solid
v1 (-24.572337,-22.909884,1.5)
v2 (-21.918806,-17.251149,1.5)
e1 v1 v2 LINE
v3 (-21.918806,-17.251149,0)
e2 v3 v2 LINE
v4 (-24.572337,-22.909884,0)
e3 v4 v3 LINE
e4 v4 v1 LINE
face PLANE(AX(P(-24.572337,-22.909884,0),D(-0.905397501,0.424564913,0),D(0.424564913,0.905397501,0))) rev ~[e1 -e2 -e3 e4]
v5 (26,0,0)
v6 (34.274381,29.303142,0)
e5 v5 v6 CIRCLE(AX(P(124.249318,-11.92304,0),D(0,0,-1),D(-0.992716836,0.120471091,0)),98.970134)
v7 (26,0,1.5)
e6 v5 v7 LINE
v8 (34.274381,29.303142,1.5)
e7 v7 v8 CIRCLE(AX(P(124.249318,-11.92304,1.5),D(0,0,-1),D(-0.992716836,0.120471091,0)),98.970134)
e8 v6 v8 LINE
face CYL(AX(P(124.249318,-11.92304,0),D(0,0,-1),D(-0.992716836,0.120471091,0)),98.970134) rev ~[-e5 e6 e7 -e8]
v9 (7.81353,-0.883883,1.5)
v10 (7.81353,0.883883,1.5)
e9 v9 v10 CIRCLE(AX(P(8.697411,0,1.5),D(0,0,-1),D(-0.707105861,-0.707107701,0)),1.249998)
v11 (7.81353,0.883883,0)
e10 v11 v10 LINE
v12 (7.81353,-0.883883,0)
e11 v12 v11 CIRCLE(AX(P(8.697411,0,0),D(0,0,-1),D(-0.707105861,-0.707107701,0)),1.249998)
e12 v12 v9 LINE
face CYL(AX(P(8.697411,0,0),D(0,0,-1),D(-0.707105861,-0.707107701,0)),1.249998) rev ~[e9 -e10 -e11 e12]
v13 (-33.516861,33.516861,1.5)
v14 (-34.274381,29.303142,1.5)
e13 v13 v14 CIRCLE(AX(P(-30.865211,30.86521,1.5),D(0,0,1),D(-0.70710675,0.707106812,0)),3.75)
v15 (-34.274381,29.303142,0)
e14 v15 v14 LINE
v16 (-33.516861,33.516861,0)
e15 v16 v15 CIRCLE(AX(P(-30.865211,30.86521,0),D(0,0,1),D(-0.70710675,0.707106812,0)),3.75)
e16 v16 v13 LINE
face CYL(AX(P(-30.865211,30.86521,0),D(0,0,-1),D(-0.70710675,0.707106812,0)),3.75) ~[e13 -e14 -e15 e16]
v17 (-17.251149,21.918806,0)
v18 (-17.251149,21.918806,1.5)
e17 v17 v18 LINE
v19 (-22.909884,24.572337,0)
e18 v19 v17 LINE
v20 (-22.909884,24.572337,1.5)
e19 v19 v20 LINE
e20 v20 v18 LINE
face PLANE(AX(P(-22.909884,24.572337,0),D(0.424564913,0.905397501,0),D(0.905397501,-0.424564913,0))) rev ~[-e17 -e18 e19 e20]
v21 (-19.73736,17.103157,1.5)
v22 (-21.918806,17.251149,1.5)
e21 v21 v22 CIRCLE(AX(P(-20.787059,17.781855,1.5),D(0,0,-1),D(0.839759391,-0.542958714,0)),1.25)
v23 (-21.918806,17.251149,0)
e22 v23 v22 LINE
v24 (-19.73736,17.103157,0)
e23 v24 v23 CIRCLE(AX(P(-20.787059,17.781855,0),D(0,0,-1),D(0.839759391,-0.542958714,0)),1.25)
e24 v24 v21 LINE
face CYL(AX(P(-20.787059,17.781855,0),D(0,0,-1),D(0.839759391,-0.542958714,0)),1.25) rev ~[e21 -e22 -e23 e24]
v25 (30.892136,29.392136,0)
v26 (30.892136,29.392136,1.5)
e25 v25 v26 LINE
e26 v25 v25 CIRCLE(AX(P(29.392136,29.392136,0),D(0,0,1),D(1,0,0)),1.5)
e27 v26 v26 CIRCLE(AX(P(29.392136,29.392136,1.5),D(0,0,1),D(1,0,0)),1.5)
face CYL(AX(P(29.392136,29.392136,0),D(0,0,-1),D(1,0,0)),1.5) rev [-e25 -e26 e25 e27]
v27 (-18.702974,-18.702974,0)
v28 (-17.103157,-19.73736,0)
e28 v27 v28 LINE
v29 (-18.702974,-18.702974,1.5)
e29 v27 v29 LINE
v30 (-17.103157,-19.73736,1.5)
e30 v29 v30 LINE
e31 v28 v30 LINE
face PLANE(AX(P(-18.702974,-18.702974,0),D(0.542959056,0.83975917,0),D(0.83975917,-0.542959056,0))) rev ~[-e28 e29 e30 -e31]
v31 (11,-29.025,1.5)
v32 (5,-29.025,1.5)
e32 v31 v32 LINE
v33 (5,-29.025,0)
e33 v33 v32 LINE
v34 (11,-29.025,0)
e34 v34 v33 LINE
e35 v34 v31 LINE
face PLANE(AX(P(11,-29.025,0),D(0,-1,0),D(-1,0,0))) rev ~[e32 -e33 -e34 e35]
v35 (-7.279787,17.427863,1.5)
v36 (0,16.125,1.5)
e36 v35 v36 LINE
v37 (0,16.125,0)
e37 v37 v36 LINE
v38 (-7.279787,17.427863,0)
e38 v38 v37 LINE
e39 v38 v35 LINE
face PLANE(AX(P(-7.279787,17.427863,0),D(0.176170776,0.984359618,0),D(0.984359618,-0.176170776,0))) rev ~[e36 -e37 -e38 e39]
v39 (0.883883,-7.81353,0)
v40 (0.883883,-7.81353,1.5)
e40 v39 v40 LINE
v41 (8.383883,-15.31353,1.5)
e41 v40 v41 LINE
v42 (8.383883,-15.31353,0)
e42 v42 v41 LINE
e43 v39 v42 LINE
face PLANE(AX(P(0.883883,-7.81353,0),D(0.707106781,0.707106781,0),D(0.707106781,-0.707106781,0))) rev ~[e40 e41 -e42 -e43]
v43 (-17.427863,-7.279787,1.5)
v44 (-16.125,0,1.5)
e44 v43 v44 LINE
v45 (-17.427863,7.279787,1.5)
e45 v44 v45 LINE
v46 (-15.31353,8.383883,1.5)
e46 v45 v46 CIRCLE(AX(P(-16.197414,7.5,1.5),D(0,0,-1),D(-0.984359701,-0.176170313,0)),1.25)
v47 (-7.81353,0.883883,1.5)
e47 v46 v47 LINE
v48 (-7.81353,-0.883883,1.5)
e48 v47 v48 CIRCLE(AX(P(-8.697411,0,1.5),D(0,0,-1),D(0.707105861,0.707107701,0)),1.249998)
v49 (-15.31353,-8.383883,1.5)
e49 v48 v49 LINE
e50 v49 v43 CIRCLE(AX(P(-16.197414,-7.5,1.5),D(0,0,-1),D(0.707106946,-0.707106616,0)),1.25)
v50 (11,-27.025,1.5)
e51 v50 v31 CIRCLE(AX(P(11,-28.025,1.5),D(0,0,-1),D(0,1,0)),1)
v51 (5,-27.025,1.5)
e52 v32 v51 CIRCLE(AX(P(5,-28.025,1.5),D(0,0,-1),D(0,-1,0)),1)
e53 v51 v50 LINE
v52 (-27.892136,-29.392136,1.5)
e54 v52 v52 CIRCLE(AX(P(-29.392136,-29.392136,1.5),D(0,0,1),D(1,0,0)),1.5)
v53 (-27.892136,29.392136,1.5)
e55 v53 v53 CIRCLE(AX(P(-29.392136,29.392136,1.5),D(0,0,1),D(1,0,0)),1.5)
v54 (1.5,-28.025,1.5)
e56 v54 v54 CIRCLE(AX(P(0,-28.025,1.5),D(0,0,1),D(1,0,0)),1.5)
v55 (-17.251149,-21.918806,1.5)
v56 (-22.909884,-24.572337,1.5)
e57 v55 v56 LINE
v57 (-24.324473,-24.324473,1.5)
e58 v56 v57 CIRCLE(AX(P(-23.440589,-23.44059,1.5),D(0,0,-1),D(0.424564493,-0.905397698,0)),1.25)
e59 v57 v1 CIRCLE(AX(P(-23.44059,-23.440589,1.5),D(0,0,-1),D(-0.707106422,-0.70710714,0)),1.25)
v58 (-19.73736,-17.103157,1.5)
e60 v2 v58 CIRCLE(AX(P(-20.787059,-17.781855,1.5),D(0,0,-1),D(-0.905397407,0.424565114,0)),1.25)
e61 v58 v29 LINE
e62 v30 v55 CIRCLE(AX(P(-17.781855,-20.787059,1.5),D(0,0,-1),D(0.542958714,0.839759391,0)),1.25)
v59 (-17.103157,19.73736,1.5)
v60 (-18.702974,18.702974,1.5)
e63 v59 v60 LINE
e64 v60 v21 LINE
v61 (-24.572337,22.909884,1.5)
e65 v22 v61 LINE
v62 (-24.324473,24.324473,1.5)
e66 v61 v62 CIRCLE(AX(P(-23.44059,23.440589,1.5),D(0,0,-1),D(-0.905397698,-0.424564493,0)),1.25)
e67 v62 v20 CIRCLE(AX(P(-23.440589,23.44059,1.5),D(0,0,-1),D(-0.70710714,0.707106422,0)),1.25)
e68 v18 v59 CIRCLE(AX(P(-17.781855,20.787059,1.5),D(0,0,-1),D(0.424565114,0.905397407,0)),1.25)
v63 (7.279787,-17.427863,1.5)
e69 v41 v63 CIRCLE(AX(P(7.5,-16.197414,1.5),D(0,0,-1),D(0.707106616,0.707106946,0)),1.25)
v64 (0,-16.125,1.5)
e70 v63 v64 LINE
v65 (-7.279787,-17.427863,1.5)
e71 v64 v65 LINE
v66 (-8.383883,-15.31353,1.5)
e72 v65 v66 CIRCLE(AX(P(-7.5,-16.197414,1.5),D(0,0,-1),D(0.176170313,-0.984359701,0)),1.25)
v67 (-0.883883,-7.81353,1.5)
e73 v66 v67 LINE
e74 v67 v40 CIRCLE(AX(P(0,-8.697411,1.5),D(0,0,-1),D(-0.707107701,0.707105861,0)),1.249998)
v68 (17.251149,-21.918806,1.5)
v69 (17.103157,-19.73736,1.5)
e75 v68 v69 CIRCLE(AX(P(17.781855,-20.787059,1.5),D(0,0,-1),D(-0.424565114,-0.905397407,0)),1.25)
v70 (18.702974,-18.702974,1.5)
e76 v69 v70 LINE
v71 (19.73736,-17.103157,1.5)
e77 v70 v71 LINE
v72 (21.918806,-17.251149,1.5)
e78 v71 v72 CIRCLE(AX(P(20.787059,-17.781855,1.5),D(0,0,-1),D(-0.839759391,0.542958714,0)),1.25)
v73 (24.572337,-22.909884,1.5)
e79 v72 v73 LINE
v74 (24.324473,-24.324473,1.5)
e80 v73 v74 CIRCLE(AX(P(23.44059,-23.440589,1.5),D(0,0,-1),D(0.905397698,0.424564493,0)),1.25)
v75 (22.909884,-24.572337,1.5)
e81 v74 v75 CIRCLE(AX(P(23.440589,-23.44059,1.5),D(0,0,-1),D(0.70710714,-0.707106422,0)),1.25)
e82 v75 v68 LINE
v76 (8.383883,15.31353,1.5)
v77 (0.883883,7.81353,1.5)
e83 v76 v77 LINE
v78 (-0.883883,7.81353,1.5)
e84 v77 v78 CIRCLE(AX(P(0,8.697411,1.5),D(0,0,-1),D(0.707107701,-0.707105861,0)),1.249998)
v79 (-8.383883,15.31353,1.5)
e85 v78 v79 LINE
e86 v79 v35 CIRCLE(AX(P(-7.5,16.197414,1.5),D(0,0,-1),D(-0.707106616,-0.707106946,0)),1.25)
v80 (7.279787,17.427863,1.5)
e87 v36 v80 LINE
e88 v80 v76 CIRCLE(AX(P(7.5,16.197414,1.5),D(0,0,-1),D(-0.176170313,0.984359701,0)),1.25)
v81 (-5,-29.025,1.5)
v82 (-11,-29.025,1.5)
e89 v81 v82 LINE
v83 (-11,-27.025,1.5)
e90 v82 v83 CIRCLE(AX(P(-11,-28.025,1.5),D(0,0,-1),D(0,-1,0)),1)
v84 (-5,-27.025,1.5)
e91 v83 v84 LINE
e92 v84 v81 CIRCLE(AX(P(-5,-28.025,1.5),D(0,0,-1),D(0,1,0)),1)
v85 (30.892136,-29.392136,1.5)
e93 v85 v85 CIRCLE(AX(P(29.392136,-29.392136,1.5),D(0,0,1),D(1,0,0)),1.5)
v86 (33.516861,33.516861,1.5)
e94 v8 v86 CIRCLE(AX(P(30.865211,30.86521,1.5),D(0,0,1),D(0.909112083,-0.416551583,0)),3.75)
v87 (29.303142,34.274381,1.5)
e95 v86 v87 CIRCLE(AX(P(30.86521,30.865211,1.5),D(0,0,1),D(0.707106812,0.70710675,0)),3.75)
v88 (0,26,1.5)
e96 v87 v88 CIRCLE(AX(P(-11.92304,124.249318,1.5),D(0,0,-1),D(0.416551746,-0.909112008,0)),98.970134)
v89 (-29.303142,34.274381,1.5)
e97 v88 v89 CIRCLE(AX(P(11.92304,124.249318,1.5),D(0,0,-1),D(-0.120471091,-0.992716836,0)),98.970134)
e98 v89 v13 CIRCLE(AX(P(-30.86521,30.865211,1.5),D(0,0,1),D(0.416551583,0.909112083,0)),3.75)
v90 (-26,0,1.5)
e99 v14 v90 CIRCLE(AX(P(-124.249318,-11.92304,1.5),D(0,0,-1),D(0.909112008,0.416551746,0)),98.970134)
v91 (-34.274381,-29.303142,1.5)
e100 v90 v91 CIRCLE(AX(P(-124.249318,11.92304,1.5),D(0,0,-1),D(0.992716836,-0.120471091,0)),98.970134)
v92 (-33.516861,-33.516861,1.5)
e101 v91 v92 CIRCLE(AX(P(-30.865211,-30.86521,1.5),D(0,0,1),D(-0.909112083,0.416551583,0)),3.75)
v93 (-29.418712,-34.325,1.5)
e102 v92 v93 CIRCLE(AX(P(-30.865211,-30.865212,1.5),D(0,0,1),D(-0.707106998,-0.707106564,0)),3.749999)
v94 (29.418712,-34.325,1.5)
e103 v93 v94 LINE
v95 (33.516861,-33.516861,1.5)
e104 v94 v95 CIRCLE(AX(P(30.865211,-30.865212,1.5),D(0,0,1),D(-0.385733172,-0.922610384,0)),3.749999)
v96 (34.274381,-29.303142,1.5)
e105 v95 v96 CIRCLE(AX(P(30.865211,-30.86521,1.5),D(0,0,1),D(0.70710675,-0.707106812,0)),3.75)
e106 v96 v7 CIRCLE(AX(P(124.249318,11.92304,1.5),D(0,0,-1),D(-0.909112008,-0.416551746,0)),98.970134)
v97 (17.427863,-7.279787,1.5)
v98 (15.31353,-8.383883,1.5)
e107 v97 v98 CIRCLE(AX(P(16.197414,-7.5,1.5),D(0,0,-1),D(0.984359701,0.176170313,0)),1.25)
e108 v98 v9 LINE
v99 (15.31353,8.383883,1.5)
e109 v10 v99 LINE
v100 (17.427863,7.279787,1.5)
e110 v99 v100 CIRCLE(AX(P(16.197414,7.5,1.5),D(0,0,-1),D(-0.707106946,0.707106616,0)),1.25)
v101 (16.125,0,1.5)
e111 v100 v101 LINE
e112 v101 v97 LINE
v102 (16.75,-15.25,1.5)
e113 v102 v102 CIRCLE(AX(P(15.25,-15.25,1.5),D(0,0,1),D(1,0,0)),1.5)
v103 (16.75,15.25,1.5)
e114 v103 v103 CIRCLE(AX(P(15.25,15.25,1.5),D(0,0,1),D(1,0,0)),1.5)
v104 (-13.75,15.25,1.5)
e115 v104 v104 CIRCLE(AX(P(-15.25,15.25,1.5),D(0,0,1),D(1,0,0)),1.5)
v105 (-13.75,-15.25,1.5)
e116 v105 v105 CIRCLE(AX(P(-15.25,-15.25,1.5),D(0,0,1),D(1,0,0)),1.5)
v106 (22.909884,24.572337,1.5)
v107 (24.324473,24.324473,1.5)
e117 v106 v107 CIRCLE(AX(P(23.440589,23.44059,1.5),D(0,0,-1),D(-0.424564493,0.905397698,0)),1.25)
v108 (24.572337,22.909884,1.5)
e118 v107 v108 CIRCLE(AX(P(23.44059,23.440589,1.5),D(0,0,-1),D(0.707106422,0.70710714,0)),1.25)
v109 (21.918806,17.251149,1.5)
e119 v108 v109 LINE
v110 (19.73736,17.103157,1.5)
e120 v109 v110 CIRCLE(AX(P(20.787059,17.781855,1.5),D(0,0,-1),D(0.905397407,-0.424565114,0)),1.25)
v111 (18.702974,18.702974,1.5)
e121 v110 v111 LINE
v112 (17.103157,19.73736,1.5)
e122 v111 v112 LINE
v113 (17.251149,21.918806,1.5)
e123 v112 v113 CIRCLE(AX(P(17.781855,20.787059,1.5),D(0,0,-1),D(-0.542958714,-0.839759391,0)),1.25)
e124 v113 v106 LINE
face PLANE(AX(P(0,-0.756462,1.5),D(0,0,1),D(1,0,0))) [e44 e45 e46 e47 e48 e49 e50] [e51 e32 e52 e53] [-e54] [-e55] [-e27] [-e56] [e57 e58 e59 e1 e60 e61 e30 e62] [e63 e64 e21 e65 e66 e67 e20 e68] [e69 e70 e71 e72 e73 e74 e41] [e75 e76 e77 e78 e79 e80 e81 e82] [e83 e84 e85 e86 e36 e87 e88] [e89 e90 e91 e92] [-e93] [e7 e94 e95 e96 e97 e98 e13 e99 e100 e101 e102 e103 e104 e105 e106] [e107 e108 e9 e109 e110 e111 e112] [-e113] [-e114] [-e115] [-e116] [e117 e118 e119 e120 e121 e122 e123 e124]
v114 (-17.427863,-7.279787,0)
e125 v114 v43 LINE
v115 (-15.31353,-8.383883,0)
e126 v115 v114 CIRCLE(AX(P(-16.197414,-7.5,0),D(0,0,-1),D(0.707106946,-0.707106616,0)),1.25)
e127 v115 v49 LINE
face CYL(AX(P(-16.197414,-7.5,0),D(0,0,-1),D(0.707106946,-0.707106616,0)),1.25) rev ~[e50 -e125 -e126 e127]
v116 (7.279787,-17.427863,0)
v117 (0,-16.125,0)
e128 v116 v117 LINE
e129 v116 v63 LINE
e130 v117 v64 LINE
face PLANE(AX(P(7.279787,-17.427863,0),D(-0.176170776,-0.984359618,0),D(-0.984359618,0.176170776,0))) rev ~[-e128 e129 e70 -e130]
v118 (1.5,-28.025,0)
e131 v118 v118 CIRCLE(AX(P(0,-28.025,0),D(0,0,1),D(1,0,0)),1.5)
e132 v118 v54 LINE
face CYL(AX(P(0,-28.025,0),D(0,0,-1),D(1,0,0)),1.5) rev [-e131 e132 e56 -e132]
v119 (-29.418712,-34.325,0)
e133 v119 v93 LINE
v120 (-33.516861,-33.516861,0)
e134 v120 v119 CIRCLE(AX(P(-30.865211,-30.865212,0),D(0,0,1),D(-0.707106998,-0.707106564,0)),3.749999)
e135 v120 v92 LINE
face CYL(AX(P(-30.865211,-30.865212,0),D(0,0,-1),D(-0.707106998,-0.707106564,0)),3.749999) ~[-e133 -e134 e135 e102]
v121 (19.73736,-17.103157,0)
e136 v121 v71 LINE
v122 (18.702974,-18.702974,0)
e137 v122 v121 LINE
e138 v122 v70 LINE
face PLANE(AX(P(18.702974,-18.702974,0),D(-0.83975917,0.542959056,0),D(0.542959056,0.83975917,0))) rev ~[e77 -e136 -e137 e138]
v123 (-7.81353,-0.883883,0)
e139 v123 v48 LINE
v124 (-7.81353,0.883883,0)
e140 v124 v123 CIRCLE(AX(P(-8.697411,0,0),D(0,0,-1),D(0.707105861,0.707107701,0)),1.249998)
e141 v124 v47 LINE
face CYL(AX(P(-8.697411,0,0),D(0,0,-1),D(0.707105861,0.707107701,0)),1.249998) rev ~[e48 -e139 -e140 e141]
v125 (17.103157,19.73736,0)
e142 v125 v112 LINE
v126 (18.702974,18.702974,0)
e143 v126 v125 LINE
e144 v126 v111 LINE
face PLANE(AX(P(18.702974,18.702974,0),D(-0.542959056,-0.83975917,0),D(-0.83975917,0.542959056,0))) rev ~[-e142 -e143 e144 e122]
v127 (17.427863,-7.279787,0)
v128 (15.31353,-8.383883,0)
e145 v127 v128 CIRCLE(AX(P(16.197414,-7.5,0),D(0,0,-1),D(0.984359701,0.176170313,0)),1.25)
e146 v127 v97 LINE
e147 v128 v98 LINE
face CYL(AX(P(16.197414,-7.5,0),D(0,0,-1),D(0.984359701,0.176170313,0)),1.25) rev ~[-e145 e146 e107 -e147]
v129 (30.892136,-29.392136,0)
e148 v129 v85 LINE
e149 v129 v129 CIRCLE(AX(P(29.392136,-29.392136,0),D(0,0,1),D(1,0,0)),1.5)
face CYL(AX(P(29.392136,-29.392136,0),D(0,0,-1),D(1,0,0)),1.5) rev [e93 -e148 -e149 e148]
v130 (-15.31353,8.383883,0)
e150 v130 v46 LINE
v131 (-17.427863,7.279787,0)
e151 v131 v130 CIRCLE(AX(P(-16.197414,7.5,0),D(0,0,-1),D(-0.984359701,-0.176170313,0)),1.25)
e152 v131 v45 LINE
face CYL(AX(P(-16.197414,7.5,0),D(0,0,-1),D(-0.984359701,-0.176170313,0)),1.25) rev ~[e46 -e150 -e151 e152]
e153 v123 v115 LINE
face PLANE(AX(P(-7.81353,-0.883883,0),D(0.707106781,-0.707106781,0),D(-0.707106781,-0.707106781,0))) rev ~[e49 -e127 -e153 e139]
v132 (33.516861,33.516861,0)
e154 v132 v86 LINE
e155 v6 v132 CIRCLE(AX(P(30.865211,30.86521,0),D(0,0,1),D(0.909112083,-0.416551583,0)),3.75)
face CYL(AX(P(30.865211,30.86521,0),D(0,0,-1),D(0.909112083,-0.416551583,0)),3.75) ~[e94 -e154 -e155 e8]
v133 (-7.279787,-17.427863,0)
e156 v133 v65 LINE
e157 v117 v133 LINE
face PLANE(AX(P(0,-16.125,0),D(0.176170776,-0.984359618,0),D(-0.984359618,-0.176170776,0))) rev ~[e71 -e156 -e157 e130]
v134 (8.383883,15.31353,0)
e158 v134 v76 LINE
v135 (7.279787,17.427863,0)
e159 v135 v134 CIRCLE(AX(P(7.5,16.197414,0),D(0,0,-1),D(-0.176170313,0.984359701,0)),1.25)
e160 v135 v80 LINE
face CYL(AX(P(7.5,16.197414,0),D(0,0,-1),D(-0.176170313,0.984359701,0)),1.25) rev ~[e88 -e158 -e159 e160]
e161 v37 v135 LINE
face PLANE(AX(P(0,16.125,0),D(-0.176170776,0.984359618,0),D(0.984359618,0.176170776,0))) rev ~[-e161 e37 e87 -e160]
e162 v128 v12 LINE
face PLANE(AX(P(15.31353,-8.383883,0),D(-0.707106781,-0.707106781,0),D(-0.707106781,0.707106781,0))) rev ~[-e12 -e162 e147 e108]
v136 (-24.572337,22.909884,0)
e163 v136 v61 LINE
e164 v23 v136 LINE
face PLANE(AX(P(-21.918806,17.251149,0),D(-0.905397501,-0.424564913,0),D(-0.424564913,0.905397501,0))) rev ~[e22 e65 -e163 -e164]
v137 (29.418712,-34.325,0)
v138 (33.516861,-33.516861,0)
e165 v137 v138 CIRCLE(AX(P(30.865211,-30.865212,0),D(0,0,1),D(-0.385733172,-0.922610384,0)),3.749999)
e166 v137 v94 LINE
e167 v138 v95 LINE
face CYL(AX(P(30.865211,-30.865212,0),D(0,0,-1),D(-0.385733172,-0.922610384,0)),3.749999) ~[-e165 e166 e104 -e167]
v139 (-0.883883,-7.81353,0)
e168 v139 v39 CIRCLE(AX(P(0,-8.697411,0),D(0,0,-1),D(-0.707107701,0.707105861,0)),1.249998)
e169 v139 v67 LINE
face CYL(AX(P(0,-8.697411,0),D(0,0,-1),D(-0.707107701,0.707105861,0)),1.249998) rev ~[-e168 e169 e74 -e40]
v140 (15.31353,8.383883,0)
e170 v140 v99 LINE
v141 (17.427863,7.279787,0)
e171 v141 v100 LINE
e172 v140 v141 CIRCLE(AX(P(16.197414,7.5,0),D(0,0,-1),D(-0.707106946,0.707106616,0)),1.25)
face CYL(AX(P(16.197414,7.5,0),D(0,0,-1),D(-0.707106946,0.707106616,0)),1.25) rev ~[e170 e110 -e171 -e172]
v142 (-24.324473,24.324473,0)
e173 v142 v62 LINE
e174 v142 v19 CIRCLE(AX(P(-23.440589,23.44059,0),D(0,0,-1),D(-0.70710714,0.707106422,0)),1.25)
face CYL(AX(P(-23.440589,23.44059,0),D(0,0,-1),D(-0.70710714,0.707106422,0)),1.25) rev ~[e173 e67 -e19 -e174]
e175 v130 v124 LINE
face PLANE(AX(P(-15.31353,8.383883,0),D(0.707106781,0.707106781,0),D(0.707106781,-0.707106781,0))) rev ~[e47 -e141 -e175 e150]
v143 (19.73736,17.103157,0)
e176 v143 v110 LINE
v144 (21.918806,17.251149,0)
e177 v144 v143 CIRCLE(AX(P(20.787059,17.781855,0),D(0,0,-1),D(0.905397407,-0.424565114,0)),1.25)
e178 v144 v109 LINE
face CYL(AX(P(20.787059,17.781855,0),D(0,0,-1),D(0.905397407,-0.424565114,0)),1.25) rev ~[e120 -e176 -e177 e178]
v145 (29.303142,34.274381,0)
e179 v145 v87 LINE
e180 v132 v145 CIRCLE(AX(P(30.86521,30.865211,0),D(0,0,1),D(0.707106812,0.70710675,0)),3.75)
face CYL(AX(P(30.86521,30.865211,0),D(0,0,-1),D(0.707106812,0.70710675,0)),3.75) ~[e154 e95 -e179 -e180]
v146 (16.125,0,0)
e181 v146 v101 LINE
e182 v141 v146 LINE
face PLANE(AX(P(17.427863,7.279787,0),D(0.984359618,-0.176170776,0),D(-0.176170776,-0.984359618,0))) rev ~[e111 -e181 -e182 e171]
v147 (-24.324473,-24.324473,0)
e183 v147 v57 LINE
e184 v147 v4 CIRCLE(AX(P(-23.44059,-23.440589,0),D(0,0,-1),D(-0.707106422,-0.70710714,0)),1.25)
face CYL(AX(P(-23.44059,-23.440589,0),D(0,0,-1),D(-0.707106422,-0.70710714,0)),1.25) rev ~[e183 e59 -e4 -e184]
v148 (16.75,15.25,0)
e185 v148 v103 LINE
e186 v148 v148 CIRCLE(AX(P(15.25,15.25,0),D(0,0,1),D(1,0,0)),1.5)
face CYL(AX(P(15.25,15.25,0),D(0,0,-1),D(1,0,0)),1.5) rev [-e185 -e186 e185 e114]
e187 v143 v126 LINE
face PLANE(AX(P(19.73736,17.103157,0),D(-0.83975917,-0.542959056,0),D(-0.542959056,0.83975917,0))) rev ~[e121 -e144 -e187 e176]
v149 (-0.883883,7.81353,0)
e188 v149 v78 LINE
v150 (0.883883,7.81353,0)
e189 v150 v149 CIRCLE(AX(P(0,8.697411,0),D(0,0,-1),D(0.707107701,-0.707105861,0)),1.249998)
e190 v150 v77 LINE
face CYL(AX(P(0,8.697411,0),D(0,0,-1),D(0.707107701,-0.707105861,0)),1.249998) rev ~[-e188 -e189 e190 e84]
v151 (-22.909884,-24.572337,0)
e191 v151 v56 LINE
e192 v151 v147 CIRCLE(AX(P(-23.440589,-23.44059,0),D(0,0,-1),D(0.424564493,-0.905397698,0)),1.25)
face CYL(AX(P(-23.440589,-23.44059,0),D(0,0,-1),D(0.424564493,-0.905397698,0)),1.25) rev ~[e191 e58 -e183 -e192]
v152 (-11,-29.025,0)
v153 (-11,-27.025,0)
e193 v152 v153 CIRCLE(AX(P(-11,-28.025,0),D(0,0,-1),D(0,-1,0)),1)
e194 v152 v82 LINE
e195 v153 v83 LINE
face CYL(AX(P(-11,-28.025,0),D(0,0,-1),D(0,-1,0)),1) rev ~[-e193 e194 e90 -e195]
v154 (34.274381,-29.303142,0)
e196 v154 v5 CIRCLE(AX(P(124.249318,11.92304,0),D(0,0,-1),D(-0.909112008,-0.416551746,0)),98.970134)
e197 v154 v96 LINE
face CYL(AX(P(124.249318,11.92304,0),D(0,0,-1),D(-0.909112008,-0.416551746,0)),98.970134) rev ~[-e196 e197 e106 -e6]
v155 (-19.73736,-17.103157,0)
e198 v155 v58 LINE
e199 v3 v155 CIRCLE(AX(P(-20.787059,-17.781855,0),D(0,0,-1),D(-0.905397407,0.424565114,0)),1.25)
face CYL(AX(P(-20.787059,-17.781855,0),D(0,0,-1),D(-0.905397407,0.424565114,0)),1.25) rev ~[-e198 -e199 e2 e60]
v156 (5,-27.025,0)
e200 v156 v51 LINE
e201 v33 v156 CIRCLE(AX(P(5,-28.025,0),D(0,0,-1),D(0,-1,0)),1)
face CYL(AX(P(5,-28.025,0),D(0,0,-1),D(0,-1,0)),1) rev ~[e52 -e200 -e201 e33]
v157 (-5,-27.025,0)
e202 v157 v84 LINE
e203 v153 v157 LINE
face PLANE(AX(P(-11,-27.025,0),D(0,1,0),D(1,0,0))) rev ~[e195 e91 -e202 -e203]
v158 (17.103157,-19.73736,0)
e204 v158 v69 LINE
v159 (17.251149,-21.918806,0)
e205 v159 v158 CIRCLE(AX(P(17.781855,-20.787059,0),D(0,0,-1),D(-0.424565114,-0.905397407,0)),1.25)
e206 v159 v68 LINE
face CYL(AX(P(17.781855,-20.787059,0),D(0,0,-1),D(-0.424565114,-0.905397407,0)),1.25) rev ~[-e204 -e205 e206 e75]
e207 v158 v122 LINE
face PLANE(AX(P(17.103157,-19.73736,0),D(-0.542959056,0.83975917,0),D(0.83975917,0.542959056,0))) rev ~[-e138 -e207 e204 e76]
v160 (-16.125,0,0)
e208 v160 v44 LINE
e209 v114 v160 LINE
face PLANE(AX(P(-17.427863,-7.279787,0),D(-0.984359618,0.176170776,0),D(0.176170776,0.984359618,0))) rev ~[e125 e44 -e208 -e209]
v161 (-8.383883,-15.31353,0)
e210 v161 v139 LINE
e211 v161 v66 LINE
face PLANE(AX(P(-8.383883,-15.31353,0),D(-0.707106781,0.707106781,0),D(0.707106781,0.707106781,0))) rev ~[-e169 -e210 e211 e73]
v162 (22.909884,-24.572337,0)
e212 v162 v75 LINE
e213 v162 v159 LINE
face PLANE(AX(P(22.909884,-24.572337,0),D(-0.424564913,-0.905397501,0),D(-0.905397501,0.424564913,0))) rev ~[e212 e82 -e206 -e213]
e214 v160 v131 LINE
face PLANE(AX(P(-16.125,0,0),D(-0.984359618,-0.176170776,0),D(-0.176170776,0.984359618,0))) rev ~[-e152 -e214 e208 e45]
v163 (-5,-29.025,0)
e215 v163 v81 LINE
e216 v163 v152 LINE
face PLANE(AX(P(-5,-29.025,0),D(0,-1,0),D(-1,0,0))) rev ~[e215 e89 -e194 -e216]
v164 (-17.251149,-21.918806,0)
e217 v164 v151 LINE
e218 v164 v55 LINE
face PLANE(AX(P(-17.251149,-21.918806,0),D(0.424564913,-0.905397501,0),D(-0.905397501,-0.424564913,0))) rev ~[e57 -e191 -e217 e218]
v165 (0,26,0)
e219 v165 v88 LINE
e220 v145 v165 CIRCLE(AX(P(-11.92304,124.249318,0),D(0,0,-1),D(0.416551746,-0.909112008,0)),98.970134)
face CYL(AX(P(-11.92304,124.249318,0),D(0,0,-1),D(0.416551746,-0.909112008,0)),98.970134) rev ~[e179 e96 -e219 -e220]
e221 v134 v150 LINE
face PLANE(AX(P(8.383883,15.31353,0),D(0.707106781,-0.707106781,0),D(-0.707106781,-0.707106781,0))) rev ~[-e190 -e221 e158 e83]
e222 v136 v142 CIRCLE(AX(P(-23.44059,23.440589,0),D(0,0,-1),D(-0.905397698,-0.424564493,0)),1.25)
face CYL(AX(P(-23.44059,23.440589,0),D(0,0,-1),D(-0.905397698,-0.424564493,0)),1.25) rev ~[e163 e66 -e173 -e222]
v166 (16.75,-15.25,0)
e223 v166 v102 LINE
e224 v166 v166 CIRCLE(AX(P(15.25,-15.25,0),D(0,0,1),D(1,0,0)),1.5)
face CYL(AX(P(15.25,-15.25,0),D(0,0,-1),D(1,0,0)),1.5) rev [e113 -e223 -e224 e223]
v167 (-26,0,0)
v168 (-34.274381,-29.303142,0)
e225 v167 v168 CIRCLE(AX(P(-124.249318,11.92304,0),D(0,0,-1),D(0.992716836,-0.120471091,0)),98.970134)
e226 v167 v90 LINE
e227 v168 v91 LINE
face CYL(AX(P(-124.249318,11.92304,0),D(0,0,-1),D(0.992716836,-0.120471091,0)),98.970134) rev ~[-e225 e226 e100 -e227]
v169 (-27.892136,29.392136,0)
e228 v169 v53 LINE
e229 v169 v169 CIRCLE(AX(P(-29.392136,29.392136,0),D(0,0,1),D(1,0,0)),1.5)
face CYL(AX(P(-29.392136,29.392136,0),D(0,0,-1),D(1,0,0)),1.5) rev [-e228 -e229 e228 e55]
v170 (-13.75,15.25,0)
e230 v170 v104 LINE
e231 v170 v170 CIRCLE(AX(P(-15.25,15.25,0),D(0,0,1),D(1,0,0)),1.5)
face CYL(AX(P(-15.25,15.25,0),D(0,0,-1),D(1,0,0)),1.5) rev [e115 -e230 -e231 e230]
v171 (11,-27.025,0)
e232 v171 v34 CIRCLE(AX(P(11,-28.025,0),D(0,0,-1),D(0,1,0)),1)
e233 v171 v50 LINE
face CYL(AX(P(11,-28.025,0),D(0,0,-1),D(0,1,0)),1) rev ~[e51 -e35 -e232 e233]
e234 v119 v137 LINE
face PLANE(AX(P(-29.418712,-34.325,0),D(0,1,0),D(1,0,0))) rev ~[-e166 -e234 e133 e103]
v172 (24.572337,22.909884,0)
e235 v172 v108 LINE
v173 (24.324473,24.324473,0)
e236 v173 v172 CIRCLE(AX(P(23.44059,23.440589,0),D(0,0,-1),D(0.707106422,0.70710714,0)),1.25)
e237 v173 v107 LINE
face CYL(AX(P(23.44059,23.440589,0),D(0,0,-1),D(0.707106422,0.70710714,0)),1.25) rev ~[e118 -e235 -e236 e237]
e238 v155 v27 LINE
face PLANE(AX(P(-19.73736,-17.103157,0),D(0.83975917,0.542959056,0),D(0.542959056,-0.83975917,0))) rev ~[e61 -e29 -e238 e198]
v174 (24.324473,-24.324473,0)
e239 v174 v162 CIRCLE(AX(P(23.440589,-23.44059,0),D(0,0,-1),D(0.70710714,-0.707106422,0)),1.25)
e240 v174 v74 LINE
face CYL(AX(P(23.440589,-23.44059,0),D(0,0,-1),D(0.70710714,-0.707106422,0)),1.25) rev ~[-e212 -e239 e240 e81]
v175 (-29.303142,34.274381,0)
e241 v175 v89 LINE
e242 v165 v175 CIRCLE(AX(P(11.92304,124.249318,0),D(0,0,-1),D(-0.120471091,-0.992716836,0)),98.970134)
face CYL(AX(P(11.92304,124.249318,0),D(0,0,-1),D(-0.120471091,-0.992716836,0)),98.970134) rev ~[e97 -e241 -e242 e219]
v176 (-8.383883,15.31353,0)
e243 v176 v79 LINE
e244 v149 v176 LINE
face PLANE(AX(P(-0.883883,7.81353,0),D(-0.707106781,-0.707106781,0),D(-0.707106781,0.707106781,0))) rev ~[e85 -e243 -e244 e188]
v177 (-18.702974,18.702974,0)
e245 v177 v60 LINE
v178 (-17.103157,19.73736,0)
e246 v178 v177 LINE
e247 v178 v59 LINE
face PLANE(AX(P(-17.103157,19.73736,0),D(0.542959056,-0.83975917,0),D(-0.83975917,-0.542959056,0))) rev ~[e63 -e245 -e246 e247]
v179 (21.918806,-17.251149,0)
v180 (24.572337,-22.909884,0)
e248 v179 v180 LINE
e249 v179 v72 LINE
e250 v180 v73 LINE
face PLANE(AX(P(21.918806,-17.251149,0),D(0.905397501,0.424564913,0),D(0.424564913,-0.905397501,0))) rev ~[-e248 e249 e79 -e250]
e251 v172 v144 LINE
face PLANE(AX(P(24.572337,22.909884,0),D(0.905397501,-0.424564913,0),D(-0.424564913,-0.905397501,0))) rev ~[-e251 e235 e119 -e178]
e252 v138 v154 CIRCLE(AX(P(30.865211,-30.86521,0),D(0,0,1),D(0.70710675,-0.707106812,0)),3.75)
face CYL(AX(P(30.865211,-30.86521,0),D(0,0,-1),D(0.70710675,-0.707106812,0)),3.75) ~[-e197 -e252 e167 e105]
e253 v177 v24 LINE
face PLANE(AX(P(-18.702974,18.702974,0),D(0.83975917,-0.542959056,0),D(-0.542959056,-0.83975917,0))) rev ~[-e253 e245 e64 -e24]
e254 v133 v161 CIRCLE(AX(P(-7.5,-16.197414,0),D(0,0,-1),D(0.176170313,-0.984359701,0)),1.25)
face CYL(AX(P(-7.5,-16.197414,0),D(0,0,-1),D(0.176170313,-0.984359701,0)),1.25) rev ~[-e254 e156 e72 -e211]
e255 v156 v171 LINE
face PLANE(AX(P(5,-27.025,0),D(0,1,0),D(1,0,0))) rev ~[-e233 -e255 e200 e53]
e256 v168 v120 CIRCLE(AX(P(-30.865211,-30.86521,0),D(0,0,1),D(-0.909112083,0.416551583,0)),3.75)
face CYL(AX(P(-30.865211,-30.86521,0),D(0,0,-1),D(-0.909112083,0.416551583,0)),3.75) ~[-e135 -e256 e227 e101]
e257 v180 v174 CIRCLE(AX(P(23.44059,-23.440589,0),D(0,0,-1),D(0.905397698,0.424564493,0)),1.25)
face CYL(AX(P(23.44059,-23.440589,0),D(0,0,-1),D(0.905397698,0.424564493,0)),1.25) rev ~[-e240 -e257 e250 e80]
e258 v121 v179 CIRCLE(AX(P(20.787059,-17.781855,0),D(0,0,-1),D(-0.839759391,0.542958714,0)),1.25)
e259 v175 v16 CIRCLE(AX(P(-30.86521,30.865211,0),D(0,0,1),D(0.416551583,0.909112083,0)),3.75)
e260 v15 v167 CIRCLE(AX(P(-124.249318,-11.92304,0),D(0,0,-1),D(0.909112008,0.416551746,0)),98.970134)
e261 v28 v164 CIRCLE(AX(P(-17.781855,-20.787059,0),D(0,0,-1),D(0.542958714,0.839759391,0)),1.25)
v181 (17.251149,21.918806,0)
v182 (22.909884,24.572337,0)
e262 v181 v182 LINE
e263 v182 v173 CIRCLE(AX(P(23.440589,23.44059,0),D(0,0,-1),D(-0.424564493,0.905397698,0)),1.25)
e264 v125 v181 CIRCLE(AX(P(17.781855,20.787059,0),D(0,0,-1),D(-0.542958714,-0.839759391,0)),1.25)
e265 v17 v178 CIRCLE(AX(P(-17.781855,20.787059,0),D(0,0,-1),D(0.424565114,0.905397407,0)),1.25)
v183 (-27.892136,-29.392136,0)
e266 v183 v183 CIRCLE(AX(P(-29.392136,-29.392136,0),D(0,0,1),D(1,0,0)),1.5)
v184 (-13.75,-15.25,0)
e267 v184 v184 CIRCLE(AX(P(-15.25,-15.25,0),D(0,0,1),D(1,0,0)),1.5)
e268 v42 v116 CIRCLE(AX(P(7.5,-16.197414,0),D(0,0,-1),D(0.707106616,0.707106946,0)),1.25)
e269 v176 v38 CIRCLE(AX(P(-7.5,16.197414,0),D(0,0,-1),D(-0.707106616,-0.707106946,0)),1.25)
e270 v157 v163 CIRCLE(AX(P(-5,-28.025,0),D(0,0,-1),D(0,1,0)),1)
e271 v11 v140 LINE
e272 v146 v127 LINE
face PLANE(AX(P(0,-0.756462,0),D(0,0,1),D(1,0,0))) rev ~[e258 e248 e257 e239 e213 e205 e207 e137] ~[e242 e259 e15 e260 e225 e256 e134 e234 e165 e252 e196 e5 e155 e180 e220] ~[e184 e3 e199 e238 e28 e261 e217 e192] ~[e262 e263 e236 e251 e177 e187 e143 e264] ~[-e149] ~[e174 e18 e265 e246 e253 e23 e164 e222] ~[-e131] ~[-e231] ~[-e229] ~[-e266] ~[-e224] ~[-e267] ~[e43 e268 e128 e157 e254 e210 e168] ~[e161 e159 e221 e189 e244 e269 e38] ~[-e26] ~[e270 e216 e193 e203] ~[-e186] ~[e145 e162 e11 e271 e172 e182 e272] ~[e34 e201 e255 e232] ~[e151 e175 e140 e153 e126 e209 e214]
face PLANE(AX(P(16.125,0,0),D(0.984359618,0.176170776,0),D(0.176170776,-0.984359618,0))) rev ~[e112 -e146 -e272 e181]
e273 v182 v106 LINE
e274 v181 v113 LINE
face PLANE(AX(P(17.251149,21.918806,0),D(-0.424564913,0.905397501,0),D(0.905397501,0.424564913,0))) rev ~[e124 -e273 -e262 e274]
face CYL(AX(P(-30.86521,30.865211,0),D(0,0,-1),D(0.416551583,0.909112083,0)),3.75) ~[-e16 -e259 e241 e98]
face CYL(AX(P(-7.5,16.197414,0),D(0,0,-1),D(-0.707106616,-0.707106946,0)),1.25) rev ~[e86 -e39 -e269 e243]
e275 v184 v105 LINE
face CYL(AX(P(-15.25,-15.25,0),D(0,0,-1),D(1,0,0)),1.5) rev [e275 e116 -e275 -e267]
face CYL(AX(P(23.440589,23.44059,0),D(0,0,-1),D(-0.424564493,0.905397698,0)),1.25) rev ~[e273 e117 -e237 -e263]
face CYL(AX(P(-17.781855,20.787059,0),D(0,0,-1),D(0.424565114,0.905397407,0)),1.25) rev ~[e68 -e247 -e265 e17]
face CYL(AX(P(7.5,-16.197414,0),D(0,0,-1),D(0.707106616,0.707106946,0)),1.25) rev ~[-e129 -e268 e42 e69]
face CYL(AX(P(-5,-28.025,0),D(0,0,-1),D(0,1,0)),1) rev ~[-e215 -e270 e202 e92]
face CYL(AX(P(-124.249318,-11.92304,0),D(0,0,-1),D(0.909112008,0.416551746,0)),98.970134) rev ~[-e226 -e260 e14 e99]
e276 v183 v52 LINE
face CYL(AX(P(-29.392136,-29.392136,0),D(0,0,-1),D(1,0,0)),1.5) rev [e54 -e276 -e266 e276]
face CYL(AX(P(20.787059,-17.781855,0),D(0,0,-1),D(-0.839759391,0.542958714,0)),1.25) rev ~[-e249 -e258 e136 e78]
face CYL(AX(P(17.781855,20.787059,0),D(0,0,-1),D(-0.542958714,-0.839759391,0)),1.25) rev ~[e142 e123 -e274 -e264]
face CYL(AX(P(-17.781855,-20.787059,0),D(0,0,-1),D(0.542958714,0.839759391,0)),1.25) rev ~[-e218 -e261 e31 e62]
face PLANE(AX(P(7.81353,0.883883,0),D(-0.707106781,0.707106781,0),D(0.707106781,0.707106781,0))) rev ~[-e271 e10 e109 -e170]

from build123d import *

# Parameters (mm, degrees)
F0_R     = 1.5
F1_DEPTH = 1.5


with BuildPart() as f1:
    # F0 (on Top) → F1 (new body)
    with BuildSketch(Plane.XY):
        with BuildLine():
            ThreePointArc((26, 0), (29.003525, 14.971686), (34.274381, 29.303142))
            ThreePointArc((34.274381, 29.303142), (34.556043, 31.528729), (33.516861, 33.516861))
            ThreePointArc((33.516861, 33.516861), (31.528729, 34.556043), (29.303142, 34.274381))
            ThreePointArc((29.303142, 34.274381), (14.971686, 29.003525), (0, 26))
            ThreePointArc((0, 26), (-14.971686, 29.003525), (-29.303142, 34.274381))
            ThreePointArc((-29.303142, 34.274381), (-31.528729, 34.556043), (-33.516861, 33.516861))
            ThreePointArc((-33.516861, 33.516861), (-34.556043, 31.528729), (-34.274381, 29.303142))
            ThreePointArc((-34.274381, 29.303142), (-29.003525, 14.971686), (-26, 0))
            ThreePointArc((-26, 0), (-29.003525, -14.971686), (-34.274381, -29.303142))
            ThreePointArc((-34.274381, -29.303142), (-34.556043, -31.528729), (-33.516861, -33.516861))
            ThreePointArc((-33.516861, -33.516861), (-31.590724, -34.544359), (-29.418712, -34.325))
            Line((-29.418712, -34.325), (29.418712, -34.325))
            ThreePointArc((29.418712, -34.325), (31.590724, -34.544359), (33.516861, -33.516861))
            ThreePointArc((33.516861, -33.516861), (34.556043, -31.528729), (34.274381, -29.303142))
            ThreePointArc((34.274381, -29.303142), (29.003525, -14.971686), (26, 0))
        make_face()
        with Locations((-29.392136, -29.392136)):
            Circle(F0_R, mode=Mode.SUBTRACT)
        with BuildLine():
            ThreePointArc((-24.324473, -24.324473), (-24.671832, -23.656327), (-24.572337, -22.909884))
            Line((-24.572337, -22.909884), (-21.918806, -17.251149))
            ThreePointArc((-21.918806, -17.251149), (-20.871666, -16.534722), (-19.73736, -17.103157))
            Line((-19.73736, -17.103157), (-18.702974, -18.702974))
            Line((-18.702974, -18.702974), (-17.103157, -19.73736))
            ThreePointArc((-17.103157, -19.73736), (-16.534722, -20.871666), (-17.251149, -21.918806))
            Line((-17.251149, -21.918806), (-22.909884, -24.572337))
            ThreePointArc((-22.909884, -24.572337), (-23.656327, -24.671832), (-24.324473, -24.324473))
        make_face(mode=Mode.SUBTRACT)
        with BuildLine():
            Line((-11, -27.025), (-5, -27.025))
            ThreePointArc((-5, -27.025), (-4, -28.025), (-5, -29.025))
            Line((-5, -29.025), (-11, -29.025))
            ThreePointArc((-11, -29.025), (-12, -28.025), (-11, -27.025))
        make_face(mode=Mode.SUBTRACT)
        with Locations((-15.25, -15.25)):
            Circle(F0_R, mode=Mode.SUBTRACT)
        with Locations((0, -28.025)):
            Circle(F0_R, mode=Mode.SUBTRACT)
        with BuildLine():
            ThreePointArc((5, -29.025), (4, -28.025), (5, -27.025))
            Line((5, -27.025), (11, -27.025))
            ThreePointArc((11, -27.025), (12, -28.025), (11, -29.025))
            Line((11, -29.025), (5, -29.025))
        make_face(mode=Mode.SUBTRACT)
        with Locations((29.392136, -29.392136)):
            Circle(F0_R, mode=Mode.SUBTRACT)
        with BuildLine():
            Line((21.918806, -17.251149), (24.572337, -22.909884))
            ThreePointArc((24.572337, -22.909884), (24.671832, -23.656327), (24.324473, -24.324473))
            ThreePointArc((24.324473, -24.324473), (23.656327, -24.671832), (22.909884, -24.572337))
            Line((22.909884, -24.572337), (17.251149, -21.918806))
            ThreePointArc((17.251149, -21.918806), (16.534722, -20.871666), (17.103157, -19.73736))
            Line((17.103157, -19.73736), (18.702974, -18.702974))
            Line((18.702974, -18.702974), (19.73736, -17.103157))
            ThreePointArc((19.73736, -17.103157), (20.871666, -16.534722), (21.918806, -17.251149))
        make_face(mode=Mode.SUBTRACT)
        with BuildLine():
            ThreePointArc((8.383883, -15.31353), (8.608023, -16.776019), (7.279787, -17.427863))
            Line((7.279787, -17.427863), (0, -16.125))
            Line((0, -16.125), (-7.279787, -17.427863))
            ThreePointArc((-7.279787, -17.427863), (-8.608023, -16.776019), (-8.383883, -15.31353))
            Line((-8.383883, -15.31353), (-0.883883, -7.81353))
            ThreePointArc((-0.883883, -7.81353), (0, -7.447413), (0.883883, -7.81353))
            Line((0.883883, -7.81353), (8.383883, -15.31353))
        make_face(mode=Mode.SUBTRACT)
        with Locations((15.25, -15.25)):
            Circle(F0_R, mode=Mode.SUBTRACT)
        with BuildLine():
            Line((-16.125, 0), (-17.427863, 7.279787))
            ThreePointArc((-17.427863, 7.279787), (-16.776019, 8.608023), (-15.31353, 8.383883))
            Line((-15.31353, 8.383883), (-7.81353, 0.883883))
            ThreePointArc((-7.81353, 0.883883), (-7.447413, 0), (-7.81353, -0.883883))
            Line((-7.81353, -0.883883), (-15.31353, -8.383883))
            ThreePointArc((-15.31353, -8.383883), (-16.776019, -8.608023), (-17.427863, -7.279787))
            Line((-17.427863, -7.279787), (-16.125, 0))
        make_face(mode=Mode.SUBTRACT)
        with Locations((-15.25, 15.25)):
            Circle(F0_R, mode=Mode.SUBTRACT)
        with BuildLine():
            ThreePointArc((-17.251149, 21.918806), (-16.534722, 20.871666), (-17.103157, 19.73736))
            Line((-17.103157, 19.73736), (-18.702974, 18.702974))
            Line((-18.702974, 18.702974), (-19.73736, 17.103157))
            ThreePointArc((-19.73736, 17.103157), (-20.871666, 16.534722), (-21.918806, 17.251149))
            Line((-21.918806, 17.251149), (-24.572337, 22.909884))
            ThreePointArc((-24.572337, 22.909884), (-24.671832, 23.656327), (-24.324473, 24.324473))
            ThreePointArc((-24.324473, 24.324473), (-23.656327, 24.671832), (-22.909884, 24.572337))
            Line((-22.909884, 24.572337), (-17.251149, 21.918806))
        make_face(mode=Mode.SUBTRACT)
        with Locations((-29.392136, 29.392136)):
            Circle(F0_R, mode=Mode.SUBTRACT)
        with BuildLine():
            ThreePointArc((7.81353, -0.883883), (7.447413, 0), (7.81353, 0.883883))
            Line((7.81353, 0.883883), (15.31353, 8.383883))
            ThreePointArc((15.31353, 8.383883), (16.776019, 8.608023), (17.427863, 7.279787))
            Line((17.427863, 7.279787), (16.125, 0))
            Line((16.125, 0), (17.427863, -7.279787))
            ThreePointArc((17.427863, -7.279787), (16.776019, -8.608023), (15.31353, -8.383883))
            Line((15.31353, -8.383883), (7.81353, -0.883883))
        make_face(mode=Mode.SUBTRACT)
        with BuildLine():
            Line((-7.279787, 17.427863), (0, 16.125))
            Line((0, 16.125), (7.279787, 17.427863))
            ThreePointArc((7.279787, 17.427863), (8.608023, 16.776019), (8.383883, 15.31353))
            Line((8.383883, 15.31353), (0.883883, 7.81353))
            ThreePointArc((0.883883, 7.81353), (0, 7.447413), (-0.883883, 7.81353))
            Line((-0.883883, 7.81353), (-8.383883, 15.31353))
            ThreePointArc((-8.383883, 15.31353), (-8.608023, 16.776019), (-7.279787, 17.427863))
        make_face(mode=Mode.SUBTRACT)
        with Locations((15.25, 15.25)):
            Circle(F0_R, mode=Mode.SUBTRACT)
        with BuildLine():
            Line((19.73736, 17.103157), (18.702974, 18.702974))
            Line((18.702974, 18.702974), (17.103157, 19.73736))
            ThreePointArc((17.103157, 19.73736), (16.534722, 20.871666), (17.251149, 21.918806))
            Line((17.251149, 21.918806), (22.909884, 24.572337))
            ThreePointArc((22.909884, 24.572337), (23.656327, 24.671832), (24.324473, 24.324473))
            ThreePointArc((24.324473, 24.324473), (24.671832, 23.656327), (24.572337, 22.909884))
            Line((24.572337, 22.909884), (21.918806, 17.251149))
            ThreePointArc((21.918806, 17.251149), (20.871666, 16.534722), (19.73736, 17.103157))
        make_face(mode=Mode.SUBTRACT)
        with Locations((29.392136, 29.392136)):
            Circle(F0_R, mode=Mode.SUBTRACT)
    extrude(amount=F1_DEPTH)


solid = f1.part
